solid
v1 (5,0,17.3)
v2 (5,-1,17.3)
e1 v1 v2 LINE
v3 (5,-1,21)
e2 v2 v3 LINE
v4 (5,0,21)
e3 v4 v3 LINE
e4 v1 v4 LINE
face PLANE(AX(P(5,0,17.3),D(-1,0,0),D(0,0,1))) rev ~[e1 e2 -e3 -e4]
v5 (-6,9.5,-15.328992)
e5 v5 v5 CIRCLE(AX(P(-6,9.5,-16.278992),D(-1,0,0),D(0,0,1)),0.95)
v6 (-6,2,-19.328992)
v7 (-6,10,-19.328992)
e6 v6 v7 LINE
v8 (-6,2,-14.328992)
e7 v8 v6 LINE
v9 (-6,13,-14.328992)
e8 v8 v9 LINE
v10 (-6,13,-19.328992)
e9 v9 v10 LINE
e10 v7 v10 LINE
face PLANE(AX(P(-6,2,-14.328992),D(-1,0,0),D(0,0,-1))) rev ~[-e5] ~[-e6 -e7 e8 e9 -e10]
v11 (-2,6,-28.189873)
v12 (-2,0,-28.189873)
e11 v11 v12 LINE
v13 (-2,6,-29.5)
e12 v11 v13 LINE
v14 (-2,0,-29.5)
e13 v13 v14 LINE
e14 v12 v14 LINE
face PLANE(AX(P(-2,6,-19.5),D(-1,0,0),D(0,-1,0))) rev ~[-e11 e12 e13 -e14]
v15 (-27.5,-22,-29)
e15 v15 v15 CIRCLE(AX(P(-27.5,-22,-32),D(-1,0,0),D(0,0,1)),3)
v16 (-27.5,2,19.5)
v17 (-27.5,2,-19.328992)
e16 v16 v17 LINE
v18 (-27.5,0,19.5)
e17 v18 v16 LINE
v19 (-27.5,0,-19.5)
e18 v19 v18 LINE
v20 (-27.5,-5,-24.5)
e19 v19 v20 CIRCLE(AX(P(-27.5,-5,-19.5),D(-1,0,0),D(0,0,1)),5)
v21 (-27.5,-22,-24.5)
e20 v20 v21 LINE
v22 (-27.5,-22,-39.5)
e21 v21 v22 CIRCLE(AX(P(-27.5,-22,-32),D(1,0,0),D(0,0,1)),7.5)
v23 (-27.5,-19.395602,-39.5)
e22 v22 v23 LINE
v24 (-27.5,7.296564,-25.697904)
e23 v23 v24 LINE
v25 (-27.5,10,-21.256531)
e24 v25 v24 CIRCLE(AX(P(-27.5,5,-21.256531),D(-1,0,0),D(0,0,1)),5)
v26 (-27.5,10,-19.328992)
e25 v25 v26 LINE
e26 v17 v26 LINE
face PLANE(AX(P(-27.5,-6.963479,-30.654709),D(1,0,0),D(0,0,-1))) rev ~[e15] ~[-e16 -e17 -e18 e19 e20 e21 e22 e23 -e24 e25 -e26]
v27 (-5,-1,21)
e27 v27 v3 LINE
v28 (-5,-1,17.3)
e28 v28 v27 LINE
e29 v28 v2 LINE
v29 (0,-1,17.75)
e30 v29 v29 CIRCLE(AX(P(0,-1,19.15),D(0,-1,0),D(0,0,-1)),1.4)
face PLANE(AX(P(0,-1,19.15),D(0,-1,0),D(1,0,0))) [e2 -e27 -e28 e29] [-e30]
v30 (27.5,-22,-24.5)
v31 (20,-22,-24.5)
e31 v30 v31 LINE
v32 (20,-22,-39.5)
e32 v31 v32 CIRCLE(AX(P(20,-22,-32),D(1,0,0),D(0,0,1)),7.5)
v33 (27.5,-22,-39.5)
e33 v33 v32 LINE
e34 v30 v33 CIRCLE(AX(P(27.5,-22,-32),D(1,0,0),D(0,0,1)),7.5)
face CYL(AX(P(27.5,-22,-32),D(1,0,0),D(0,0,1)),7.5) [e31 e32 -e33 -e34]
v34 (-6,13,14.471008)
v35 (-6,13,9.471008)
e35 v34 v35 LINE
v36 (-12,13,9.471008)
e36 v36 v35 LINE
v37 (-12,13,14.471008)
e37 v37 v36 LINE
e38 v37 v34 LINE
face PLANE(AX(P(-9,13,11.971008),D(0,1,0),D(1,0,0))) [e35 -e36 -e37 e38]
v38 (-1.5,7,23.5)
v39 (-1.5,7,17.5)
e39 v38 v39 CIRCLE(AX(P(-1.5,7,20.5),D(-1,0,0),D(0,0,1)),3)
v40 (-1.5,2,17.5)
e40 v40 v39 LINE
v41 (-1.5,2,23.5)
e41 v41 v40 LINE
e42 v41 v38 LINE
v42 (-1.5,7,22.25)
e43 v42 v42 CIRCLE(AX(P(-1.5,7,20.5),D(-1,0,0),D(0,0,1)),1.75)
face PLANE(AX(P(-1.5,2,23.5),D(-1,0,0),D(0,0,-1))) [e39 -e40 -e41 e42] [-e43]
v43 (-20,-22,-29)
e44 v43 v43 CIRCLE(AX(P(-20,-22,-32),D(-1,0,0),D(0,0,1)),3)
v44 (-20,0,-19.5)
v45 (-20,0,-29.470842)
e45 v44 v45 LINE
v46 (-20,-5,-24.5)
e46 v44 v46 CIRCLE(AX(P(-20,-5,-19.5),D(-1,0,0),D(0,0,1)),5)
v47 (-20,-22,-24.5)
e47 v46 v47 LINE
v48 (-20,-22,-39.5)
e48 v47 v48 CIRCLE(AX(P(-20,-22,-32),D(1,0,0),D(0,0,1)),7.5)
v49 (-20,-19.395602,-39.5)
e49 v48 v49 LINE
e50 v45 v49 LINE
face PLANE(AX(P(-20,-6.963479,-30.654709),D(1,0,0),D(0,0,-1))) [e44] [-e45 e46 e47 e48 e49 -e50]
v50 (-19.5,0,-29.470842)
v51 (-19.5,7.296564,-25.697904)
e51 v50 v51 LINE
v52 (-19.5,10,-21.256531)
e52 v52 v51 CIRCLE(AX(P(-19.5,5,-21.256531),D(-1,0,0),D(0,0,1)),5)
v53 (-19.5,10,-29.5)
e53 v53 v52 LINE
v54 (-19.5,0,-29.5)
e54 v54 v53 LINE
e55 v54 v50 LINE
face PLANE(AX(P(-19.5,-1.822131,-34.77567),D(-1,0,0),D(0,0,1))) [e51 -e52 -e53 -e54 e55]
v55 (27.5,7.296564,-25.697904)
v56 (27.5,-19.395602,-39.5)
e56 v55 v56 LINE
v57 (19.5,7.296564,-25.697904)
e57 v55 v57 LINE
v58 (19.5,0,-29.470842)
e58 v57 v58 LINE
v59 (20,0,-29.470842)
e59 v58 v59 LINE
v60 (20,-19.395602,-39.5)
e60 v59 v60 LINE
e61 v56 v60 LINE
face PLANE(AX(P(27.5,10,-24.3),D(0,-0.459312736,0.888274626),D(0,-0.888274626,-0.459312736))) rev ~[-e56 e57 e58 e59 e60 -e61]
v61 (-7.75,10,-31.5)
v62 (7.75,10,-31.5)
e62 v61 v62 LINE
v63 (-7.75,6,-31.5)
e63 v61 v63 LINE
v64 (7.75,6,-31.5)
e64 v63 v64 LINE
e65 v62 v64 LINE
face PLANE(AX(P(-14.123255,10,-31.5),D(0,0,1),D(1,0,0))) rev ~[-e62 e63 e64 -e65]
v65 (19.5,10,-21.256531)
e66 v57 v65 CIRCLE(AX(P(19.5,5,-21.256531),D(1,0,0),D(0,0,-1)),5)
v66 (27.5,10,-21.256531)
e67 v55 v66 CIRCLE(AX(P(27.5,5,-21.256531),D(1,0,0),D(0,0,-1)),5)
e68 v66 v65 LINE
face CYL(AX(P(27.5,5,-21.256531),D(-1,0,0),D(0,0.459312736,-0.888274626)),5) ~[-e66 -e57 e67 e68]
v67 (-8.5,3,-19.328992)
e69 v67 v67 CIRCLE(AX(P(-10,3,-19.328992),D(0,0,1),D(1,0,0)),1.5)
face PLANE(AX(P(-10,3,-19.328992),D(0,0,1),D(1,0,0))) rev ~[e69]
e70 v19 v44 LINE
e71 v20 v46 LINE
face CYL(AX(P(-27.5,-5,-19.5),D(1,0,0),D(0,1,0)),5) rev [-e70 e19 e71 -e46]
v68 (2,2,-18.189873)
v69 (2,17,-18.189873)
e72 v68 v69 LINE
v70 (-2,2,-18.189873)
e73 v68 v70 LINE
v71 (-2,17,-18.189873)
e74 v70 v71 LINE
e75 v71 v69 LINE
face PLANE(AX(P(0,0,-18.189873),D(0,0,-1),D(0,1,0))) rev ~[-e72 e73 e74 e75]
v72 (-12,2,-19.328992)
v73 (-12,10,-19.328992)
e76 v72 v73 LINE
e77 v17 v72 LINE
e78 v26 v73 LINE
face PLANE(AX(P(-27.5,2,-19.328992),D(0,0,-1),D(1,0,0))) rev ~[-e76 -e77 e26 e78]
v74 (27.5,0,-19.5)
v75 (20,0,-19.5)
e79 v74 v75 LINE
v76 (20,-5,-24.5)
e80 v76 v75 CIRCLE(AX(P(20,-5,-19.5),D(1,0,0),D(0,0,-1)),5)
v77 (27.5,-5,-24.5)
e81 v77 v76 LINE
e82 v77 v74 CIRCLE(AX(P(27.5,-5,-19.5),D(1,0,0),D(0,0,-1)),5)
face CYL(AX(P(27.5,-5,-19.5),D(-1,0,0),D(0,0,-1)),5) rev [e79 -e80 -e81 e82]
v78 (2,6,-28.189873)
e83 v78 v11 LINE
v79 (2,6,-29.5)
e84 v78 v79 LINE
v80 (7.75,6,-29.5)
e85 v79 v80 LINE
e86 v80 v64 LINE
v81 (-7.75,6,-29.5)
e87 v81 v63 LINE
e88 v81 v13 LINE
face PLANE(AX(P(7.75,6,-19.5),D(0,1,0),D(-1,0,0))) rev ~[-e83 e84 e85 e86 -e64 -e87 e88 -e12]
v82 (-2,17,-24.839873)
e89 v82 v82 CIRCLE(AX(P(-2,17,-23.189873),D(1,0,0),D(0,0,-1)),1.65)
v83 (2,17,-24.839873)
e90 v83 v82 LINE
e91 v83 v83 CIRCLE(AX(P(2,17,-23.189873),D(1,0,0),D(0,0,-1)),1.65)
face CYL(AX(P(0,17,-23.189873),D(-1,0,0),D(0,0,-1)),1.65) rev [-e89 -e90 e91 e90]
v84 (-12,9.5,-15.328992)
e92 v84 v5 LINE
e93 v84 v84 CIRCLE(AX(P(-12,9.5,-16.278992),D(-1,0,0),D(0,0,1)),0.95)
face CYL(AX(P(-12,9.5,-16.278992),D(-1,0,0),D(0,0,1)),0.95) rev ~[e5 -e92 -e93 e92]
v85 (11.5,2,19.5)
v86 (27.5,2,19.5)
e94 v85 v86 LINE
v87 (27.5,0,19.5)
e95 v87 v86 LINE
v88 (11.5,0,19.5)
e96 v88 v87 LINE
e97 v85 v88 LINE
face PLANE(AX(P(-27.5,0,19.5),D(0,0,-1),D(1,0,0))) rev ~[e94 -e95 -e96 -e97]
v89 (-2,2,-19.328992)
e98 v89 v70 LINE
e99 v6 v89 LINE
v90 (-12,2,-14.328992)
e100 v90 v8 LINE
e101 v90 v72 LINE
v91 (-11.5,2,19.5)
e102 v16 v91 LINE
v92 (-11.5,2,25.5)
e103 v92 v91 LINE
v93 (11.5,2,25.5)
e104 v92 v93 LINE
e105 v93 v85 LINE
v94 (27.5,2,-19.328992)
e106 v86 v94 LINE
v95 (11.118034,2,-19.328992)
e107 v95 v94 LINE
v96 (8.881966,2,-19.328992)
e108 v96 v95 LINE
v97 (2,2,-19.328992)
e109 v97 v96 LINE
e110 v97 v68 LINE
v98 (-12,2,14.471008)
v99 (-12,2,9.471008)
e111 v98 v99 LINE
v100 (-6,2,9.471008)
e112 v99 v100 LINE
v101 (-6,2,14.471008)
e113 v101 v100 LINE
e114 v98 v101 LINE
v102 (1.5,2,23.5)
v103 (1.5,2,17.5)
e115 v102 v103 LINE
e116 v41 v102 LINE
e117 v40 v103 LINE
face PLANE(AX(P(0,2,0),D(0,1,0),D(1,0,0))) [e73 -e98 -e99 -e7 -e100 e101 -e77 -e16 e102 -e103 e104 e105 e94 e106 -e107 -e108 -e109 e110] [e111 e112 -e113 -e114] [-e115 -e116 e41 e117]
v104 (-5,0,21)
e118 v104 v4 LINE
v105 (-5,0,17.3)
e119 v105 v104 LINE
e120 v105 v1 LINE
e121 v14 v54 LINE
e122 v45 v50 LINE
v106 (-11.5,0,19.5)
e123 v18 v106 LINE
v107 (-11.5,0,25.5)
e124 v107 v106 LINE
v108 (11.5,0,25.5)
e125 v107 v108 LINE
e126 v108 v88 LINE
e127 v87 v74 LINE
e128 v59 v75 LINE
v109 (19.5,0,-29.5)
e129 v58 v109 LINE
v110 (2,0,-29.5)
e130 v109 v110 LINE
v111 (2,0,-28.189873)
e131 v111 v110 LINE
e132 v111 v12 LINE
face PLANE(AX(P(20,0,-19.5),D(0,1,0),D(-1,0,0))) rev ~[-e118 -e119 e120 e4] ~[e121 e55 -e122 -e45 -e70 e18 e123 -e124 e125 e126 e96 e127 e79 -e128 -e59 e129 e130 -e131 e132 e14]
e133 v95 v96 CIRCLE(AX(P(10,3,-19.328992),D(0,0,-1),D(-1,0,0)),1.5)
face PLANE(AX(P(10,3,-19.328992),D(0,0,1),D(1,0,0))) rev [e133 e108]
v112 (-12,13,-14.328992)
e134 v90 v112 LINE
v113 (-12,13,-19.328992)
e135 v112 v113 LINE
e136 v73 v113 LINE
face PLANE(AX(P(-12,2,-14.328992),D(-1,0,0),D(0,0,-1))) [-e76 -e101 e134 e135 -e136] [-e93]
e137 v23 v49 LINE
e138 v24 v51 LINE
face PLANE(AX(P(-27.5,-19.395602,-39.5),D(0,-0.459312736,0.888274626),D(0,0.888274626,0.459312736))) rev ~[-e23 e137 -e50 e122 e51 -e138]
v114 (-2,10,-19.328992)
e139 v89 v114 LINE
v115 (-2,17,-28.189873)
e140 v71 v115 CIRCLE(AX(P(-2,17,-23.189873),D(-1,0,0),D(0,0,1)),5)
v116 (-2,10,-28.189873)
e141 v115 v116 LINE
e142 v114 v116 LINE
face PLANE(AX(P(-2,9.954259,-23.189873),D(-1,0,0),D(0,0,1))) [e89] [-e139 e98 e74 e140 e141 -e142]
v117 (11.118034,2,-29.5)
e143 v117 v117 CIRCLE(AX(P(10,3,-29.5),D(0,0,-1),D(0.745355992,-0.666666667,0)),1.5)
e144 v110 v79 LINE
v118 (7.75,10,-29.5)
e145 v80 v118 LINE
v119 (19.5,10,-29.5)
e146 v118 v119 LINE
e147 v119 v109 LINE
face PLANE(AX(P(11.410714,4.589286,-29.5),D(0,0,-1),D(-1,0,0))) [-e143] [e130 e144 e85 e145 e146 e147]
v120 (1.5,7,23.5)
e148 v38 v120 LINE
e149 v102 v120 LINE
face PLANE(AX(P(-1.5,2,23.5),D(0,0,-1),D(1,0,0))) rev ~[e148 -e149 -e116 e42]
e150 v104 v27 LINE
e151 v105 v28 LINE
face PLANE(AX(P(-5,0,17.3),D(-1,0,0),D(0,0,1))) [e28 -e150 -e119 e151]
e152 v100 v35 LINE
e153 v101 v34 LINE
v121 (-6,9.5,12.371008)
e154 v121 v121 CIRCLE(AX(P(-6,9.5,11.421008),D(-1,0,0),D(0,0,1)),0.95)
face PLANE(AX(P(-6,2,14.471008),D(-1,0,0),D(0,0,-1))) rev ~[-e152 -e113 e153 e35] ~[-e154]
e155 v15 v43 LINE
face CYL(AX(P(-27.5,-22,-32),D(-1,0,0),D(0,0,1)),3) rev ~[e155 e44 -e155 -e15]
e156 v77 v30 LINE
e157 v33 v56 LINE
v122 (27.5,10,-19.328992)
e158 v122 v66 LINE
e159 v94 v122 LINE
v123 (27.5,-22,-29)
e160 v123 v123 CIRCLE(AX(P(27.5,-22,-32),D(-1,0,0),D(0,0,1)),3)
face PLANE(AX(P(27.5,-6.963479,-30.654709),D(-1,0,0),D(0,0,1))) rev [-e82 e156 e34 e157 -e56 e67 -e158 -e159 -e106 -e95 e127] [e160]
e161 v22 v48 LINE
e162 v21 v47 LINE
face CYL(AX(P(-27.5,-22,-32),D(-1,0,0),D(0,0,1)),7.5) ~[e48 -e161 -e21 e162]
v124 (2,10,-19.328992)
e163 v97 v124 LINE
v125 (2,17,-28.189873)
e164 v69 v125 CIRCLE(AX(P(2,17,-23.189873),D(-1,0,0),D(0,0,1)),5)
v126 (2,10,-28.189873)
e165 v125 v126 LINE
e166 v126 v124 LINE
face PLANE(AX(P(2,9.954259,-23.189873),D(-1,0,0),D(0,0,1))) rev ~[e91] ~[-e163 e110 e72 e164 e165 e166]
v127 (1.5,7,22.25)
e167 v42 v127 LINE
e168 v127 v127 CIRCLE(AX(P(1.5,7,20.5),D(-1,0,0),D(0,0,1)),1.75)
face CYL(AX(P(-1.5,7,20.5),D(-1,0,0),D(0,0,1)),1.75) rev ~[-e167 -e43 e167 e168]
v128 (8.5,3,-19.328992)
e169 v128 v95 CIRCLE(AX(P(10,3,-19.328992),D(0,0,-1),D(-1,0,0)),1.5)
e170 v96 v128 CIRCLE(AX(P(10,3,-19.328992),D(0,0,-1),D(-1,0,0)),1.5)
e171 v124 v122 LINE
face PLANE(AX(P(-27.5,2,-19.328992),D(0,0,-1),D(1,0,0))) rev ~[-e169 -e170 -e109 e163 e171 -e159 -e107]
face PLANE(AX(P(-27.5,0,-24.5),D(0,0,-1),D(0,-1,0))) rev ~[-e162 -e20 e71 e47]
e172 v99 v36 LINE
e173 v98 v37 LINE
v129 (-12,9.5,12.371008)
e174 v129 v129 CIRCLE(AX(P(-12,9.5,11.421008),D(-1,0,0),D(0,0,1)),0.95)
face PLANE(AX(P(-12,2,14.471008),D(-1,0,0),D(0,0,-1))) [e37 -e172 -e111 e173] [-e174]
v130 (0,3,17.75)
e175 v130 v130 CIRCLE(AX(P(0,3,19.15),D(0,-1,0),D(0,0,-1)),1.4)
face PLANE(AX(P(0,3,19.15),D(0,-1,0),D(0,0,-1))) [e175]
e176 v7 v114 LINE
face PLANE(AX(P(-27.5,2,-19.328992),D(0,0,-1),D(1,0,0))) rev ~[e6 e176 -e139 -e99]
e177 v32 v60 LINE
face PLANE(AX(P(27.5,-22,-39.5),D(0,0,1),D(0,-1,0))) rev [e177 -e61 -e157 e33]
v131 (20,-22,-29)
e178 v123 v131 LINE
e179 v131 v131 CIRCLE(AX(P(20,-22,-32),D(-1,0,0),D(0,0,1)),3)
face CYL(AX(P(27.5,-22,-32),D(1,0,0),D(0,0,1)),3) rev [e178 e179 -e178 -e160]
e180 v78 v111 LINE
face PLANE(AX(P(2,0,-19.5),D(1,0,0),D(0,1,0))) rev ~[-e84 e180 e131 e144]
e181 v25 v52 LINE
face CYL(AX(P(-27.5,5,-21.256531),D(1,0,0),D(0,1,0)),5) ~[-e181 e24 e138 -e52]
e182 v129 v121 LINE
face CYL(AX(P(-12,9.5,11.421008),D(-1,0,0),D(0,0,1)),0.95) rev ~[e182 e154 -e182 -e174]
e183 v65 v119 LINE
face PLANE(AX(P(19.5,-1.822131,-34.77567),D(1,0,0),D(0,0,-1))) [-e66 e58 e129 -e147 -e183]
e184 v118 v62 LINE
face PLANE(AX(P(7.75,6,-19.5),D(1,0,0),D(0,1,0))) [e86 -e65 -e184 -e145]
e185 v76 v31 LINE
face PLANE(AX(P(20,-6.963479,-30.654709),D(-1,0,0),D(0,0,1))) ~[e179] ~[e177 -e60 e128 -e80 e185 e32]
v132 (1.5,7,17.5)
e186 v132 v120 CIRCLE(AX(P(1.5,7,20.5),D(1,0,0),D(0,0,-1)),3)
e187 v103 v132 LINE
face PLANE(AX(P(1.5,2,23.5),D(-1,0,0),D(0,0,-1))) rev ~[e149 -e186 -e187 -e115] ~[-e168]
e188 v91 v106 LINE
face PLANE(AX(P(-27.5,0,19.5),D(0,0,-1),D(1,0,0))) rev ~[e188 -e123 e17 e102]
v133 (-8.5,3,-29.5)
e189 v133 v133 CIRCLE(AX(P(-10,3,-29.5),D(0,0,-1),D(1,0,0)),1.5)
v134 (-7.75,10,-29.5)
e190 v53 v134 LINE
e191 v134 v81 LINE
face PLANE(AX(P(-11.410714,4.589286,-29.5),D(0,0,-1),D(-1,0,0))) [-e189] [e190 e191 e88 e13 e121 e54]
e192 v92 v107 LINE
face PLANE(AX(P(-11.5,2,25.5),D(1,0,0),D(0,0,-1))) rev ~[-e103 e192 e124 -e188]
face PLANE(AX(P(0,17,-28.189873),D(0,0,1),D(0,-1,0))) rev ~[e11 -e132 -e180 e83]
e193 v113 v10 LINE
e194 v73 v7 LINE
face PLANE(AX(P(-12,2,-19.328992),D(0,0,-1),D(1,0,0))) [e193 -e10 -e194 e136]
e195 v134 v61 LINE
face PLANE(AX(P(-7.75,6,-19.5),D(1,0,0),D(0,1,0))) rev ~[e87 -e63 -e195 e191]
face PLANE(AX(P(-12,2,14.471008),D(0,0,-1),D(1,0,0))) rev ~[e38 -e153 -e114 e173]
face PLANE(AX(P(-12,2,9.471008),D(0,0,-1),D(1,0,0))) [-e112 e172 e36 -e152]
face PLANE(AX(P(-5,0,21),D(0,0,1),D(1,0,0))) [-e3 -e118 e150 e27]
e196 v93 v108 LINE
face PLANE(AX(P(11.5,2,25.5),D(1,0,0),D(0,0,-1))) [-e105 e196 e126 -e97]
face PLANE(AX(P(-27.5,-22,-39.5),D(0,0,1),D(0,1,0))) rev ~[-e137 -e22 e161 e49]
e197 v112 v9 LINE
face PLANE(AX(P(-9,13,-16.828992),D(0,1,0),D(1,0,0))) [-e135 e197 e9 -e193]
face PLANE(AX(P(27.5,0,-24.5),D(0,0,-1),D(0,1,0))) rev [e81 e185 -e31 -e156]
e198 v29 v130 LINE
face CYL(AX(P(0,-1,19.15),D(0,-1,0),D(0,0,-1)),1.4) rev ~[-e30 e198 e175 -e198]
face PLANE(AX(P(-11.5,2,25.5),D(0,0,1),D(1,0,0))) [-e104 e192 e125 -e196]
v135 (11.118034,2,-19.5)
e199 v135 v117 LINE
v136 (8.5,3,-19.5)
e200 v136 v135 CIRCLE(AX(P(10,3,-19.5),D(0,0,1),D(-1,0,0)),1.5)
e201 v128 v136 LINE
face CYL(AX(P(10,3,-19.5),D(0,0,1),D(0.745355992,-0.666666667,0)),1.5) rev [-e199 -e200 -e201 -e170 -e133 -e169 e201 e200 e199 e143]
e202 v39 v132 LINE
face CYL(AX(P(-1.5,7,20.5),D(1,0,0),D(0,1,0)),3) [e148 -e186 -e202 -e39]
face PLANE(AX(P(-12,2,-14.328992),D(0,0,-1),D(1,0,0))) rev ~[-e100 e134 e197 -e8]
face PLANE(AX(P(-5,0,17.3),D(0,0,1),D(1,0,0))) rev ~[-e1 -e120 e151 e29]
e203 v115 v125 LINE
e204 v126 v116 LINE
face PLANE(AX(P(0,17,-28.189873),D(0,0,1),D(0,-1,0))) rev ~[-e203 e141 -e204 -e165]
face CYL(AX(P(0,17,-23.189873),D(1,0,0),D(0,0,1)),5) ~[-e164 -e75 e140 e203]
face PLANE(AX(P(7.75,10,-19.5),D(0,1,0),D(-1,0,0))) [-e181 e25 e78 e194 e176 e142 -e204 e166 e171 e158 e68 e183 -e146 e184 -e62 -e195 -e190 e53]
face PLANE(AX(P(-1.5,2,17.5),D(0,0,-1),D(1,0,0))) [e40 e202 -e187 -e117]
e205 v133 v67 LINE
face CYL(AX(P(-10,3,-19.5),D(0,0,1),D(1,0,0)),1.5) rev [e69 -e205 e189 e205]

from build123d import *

# Parameters (mm, degrees)
SKETCH_1_W           = 55
SKETCH_1_H           = 39
EXTRUDE_1_DEPTH      = 2
SKETCH_2_W           = 23
SKETCH_2_H           = 6
EXTRUDE_2_DEPTH      = 2
SKETCH_3_W           = 6
SKETCH_3_H           = 5
EXTRUDE_3_DEPTH      = 11
SKETCH_5_R           = 0.95
CUT_EXTRUDE_1_DEPTH  = 11
SKETCH_6_W           = 55
SKETCH_6_H           = 0.171008225
EXTRUDE_4_DEPTH      = 8
SKETCH_8_R           = 1.65
EXTRUDE_6_DEPTH      = 2
SKETCH_10_W          = 3
SKETCH_10_H          = 6
EXTRUDE_7_DEPTH      = 8
SKETCH_11_R          = 1.5
CUT_EXTRUDE_3_DEPTH  = 13
SKETCH_12_R          = 3
EXTRUDE_8_DEPTH      = 7.5
SKETCH_13_W          = 10
SKETCH_13_H          = 3.7
EXTRUDE_9_DEPTH      = 1
FILLET_3_RADIUS      = 3
FILLET_3_LENGTH      = 3
SKETCH_15_R          = 1.75
CUT_EXTRUDE_5_DEPTH  = 23
SKETCH_16_W          = 15.5
SKETCH_16_H          = 4
EXTRUDE_10_DEPTH     = 20
SKETCH_17_R          = 1.5
EXTRUDE_11_DEPTH     = 10
FILLET_4_R           = 10
SKETCH_18_W          = 26.564734734
SKETCH_18_H          = 10.454508508
CUT_EXTRUDE_6_DEPTH  = 10
CUT_EXTRUDE_7_DEPTH  = 8
CUT_EXTRUDE_8_DEPTH  = 8
FILLET_6_R           = 5
SKETCH_22_R          = 1.4
CUT_EXTRUDE_10_DEPTH = 4


with BuildPart() as part:
    # 草图1 → 凸台-拉伸1 (new body)
    with BuildSketch(Plane(origin=(0, 0, 0), x_dir=(1, 0, 0), z_dir=(0, 1, 0))):
        Rectangle(SKETCH_1_W, SKETCH_1_H)
    extrude(amount=EXTRUDE_1_DEPTH)

    # 草图2 → 凸台-拉伸2 (add)
    with BuildSketch(Plane(origin=(0, 2, 0), x_dir=(1, 0, 0), z_dir=(0, 1, 0))):
        with Locations((0, -22.5)):
            Rectangle(SKETCH_2_W, SKETCH_2_H)
    extrude(amount=-EXTRUDE_2_DEPTH)

    # 草图3 → 凸台-拉伸3 (add)
    with BuildSketch(Plane(origin=(0, 2, 0), x_dir=(1, 0, 0), z_dir=(0, 1, 0))):
        with Locations((-9, -11.971008225)):
            Rectangle(SKETCH_3_W, SKETCH_3_H)
        with Locations((-9, 16.828991775)):
            Rectangle(SKETCH_3_W, SKETCH_3_H)
    extrude(amount=EXTRUDE_3_DEPTH)

    # 草图5 → 切除-拉伸1 (cut)
    with BuildSketch(Plane.ZY.offset(12)):
        with Locations((-16.278991775, 9.5)):
            Circle(SKETCH_5_R)
        with Locations((11.421008225, 9.5)):
            Circle(SKETCH_5_R)
    extrude(amount=-CUT_EXTRUDE_1_DEPTH, mode=Mode.SUBTRACT)

    # 草图6 → 凸台-拉伸4 (add)
    with BuildSketch(Plane(origin=(0, 2, 0), x_dir=(1, 0, 0), z_dir=(0, 1, 0))):
        with Locations((0, 19.414495888)):
            Rectangle(SKETCH_6_W, SKETCH_6_H)
    extrude(amount=EXTRUDE_4_DEPTH)

    # 草图8 → 凸台-拉伸6 (add, symmetric)
    with BuildSketch(Plane(origin=(0, 0, 0), x_dir=(0, 0, -1), z_dir=(1, 0, 0))):
        with BuildLine():
            Line((28.189872998, 17), (28.189872998, 0))
            Line((28.189872998, 0), (18.189872998, 0))
            Line((18.189872998, 0), (18.189872998, 17))
            ThreePointArc((18.189872998, 17), (23.189872998, 22), (28.189872998, 17))
        make_face()
        with Locations((23.189872998, 17)):
            Circle(SKETCH_8_R, mode=Mode.SUBTRACT)
    extrude(amount=EXTRUDE_6_DEPTH, both=True)

    # 草图10 → 凸台-拉伸7 (add)
    with BuildSketch(Plane(origin=(0, 2, 0), x_dir=(1, 0, 0), z_dir=(0, 1, 0))):
        with Locations((0, -20.5)):
            Rectangle(SKETCH_10_W, SKETCH_10_H)
    extrude(amount=EXTRUDE_7_DEPTH)

    # 草图11 → 切除-拉伸3 (cut)
    with BuildSketch(Plane.XY.offset(-19.328991775)):
        with Locations((-10, 3)):
            Circle(SKETCH_11_R)
    cut_extrude_3 = extrude(amount=-CUT_EXTRUDE_3_DEPTH, mode=Mode.SUBTRACT)

    # 草图12 → 凸台-拉伸8 (add)
    with BuildSketch(Plane.ZY.offset(27.5)):
        with BuildLine():
            Line((-39.5, -22), (-39.5, 10))
            Line((-39.5, 10), (-19.5, 10))
            Line((-19.5, 10), (-19.5, 0))
            Line((-19.5, 0), (-24.5, 0))
            Line((-24.5, 0), (-24.5, -22))
            ThreePointArc((-24.5, -22), (-32, -29.5), (-39.5, -22))
        make_face()
        with Locations((-32, -22)):
            Circle(SKETCH_12_R, mode=Mode.SUBTRACT)
    extrude_8 = extrude(amount=-EXTRUDE_8_DEPTH)

    # 草图13 → 凸台-拉伸9 (add)
    with BuildSketch(Plane.XZ):
        with Locations((0, 19.15)):
            Rectangle(SKETCH_13_W, SKETCH_13_H)
    extrude(amount=EXTRUDE_9_DEPTH)

    # 镜向1: 切除-拉伸3, 凸台-拉伸8 across plane
    add(cut_extrude_3.mirror(Plane(origin=(0, 0, 0), x_dir=(0, 0, 1), z_dir=(1, 0, 0))), mode=Mode.SUBTRACT)
    add(extrude_8.mirror(Plane(origin=(0, 0, 0), x_dir=(0, 0, 1), z_dir=(1, 0, 0))))

    # 圆角3: full round fillet: the end face becomes a half cylinder, R = half its width
    fillet_3_face = Plane((0, 10, 20.5), x_dir=(1, 0, 0), z_dir=(0, 1, 0))  # on the end face: x along it, z out of the body
    fillet_3_slab = fillet_3_face.offset(-FILLET_3_RADIUS / 2) * Box(FILLET_3_LENGTH, 2 * FILLET_3_RADIUS, FILLET_3_RADIUS, mode=Mode.PRIVATE)  # the body's end, R deep
    fillet_3_round = Plane((0, 7, 20.5), x_dir=(0, 1, 0), z_dir=(1, 0, 0)) * Cylinder(FILLET_3_RADIUS, FILLET_3_LENGTH, mode=Mode.PRIVATE)  # its axis R under the face
    add(fillet_3_slab - fillet_3_round, mode=Mode.SUBTRACT)

    # 草图15 → 切除-拉伸5 (cut)
    with BuildSketch(Plane.ZY.offset(1.5)):
        with Locations((20.5, 7)):
            Circle(SKETCH_15_R)
    extrude(amount=-CUT_EXTRUDE_5_DEPTH, mode=Mode.SUBTRACT)

    # 草图16 → 凸台-拉伸10 (add)
    with BuildSketch(Plane(origin=(0, 0, -19.5), x_dir=(-1, 0, 0), z_dir=(0, 0, -1))):
        with Locations((0, 8)):
            Rectangle(SKETCH_16_W, SKETCH_16_H)
    extrude(amount=EXTRUDE_10_DEPTH)

    # 草图17 → 凸台-拉伸11 (add)
    # profile 1 of 2: a face of its own
    with BuildSketch(Plane(origin=(0, 0, -19.5), x_dir=(-1, 0, 0), z_dir=(0, 0, -1))):
        Polygon((-20, 0), (-2, 0), (-2, 6), (-7.75, 6), (-7.75, 10), (-20, 10), align=None)
        with Locations(Location((-10, 3, 0), (0, 0, 221.810314896))):
            Circle(SKETCH_17_R, mode=Mode.SUBTRACT)
    # profile 2 of 2: a face of its own
    with BuildSketch(Plane(origin=(0, 0, -19.5), x_dir=(-1, 0, 0), z_dir=(0, 0, -1))):
        Polygon((7.75, 6), (2, 6), (2, 0), (20, 0), (20, 10), (7.75, 10), align=None)
        with Locations(Location((10, 3, 0), (0, 0, 180))):
            Circle(SKETCH_17_R, mode=Mode.SUBTRACT)
    extrude(amount=EXTRUDE_11_DEPTH)

    # 圆角4
    fillet_4_edges = [part.edges().sort_by_distance(p)[0] for p in [
        (23.75, 10, -39.5),
        (-23.75, 10, -39.5),
    ]]
    fillet(fillet_4_edges, radius=FILLET_4_R)

    # 草图18 → 切除-拉伸6 (cut)
    with BuildSketch(Plane(origin=(0, 10, 0), x_dir=(1, 0, 0), z_dir=(0, 1, 0))):
        with Locations((-0.840887807, 36.727254254)):
            Rectangle(SKETCH_18_W, SKETCH_18_H)
    extrude(amount=-CUT_EXTRUDE_6_DEPTH, mode=Mode.SUBTRACT)

    # 草图19 → 切除-拉伸7 (cut)
    with BuildSketch(Plane(origin=(27.5, 0, 0), x_dir=(0, 0, -1), z_dir=(1, 0, 0))):
        Polygon((24.3, 10), (39.5, -19.395601839), (39.5, 10), align=None)
    extrude(amount=-CUT_EXTRUDE_7_DEPTH, mode=Mode.SUBTRACT)

    # 草图20 → 切除-拉伸8 (cut)
    with BuildSketch(Plane.ZY.offset(27.5)):
        Polygon((-24.3, 10), (-39.5, 10), (-39.5, -19.395601839), align=None)
    extrude(amount=-CUT_EXTRUDE_8_DEPTH, mode=Mode.SUBTRACT)

    # 圆角6
    fillet_6_edges = [part.edges().sort_by_distance(p)[0] for p in [
        (-23.75, 0, -24.5),
        (23.75, 0, -24.5),
        (23.5, 10, -24.3),
        (-23.5, 10, -24.3),
    ]]
    fillet(fillet_6_edges, radius=FILLET_6_R)

    # 草图22 → 切除-拉伸10 (cut)
    with BuildSketch(Plane.XZ.offset(1)):
        with Locations(Location((0, 19.15, 0), (0, 0, 270))):
            Circle(SKETCH_22_R)
    extrude(amount=-CUT_EXTRUDE_10_DEPTH, mode=Mode.SUBTRACT)


solid = part.part
